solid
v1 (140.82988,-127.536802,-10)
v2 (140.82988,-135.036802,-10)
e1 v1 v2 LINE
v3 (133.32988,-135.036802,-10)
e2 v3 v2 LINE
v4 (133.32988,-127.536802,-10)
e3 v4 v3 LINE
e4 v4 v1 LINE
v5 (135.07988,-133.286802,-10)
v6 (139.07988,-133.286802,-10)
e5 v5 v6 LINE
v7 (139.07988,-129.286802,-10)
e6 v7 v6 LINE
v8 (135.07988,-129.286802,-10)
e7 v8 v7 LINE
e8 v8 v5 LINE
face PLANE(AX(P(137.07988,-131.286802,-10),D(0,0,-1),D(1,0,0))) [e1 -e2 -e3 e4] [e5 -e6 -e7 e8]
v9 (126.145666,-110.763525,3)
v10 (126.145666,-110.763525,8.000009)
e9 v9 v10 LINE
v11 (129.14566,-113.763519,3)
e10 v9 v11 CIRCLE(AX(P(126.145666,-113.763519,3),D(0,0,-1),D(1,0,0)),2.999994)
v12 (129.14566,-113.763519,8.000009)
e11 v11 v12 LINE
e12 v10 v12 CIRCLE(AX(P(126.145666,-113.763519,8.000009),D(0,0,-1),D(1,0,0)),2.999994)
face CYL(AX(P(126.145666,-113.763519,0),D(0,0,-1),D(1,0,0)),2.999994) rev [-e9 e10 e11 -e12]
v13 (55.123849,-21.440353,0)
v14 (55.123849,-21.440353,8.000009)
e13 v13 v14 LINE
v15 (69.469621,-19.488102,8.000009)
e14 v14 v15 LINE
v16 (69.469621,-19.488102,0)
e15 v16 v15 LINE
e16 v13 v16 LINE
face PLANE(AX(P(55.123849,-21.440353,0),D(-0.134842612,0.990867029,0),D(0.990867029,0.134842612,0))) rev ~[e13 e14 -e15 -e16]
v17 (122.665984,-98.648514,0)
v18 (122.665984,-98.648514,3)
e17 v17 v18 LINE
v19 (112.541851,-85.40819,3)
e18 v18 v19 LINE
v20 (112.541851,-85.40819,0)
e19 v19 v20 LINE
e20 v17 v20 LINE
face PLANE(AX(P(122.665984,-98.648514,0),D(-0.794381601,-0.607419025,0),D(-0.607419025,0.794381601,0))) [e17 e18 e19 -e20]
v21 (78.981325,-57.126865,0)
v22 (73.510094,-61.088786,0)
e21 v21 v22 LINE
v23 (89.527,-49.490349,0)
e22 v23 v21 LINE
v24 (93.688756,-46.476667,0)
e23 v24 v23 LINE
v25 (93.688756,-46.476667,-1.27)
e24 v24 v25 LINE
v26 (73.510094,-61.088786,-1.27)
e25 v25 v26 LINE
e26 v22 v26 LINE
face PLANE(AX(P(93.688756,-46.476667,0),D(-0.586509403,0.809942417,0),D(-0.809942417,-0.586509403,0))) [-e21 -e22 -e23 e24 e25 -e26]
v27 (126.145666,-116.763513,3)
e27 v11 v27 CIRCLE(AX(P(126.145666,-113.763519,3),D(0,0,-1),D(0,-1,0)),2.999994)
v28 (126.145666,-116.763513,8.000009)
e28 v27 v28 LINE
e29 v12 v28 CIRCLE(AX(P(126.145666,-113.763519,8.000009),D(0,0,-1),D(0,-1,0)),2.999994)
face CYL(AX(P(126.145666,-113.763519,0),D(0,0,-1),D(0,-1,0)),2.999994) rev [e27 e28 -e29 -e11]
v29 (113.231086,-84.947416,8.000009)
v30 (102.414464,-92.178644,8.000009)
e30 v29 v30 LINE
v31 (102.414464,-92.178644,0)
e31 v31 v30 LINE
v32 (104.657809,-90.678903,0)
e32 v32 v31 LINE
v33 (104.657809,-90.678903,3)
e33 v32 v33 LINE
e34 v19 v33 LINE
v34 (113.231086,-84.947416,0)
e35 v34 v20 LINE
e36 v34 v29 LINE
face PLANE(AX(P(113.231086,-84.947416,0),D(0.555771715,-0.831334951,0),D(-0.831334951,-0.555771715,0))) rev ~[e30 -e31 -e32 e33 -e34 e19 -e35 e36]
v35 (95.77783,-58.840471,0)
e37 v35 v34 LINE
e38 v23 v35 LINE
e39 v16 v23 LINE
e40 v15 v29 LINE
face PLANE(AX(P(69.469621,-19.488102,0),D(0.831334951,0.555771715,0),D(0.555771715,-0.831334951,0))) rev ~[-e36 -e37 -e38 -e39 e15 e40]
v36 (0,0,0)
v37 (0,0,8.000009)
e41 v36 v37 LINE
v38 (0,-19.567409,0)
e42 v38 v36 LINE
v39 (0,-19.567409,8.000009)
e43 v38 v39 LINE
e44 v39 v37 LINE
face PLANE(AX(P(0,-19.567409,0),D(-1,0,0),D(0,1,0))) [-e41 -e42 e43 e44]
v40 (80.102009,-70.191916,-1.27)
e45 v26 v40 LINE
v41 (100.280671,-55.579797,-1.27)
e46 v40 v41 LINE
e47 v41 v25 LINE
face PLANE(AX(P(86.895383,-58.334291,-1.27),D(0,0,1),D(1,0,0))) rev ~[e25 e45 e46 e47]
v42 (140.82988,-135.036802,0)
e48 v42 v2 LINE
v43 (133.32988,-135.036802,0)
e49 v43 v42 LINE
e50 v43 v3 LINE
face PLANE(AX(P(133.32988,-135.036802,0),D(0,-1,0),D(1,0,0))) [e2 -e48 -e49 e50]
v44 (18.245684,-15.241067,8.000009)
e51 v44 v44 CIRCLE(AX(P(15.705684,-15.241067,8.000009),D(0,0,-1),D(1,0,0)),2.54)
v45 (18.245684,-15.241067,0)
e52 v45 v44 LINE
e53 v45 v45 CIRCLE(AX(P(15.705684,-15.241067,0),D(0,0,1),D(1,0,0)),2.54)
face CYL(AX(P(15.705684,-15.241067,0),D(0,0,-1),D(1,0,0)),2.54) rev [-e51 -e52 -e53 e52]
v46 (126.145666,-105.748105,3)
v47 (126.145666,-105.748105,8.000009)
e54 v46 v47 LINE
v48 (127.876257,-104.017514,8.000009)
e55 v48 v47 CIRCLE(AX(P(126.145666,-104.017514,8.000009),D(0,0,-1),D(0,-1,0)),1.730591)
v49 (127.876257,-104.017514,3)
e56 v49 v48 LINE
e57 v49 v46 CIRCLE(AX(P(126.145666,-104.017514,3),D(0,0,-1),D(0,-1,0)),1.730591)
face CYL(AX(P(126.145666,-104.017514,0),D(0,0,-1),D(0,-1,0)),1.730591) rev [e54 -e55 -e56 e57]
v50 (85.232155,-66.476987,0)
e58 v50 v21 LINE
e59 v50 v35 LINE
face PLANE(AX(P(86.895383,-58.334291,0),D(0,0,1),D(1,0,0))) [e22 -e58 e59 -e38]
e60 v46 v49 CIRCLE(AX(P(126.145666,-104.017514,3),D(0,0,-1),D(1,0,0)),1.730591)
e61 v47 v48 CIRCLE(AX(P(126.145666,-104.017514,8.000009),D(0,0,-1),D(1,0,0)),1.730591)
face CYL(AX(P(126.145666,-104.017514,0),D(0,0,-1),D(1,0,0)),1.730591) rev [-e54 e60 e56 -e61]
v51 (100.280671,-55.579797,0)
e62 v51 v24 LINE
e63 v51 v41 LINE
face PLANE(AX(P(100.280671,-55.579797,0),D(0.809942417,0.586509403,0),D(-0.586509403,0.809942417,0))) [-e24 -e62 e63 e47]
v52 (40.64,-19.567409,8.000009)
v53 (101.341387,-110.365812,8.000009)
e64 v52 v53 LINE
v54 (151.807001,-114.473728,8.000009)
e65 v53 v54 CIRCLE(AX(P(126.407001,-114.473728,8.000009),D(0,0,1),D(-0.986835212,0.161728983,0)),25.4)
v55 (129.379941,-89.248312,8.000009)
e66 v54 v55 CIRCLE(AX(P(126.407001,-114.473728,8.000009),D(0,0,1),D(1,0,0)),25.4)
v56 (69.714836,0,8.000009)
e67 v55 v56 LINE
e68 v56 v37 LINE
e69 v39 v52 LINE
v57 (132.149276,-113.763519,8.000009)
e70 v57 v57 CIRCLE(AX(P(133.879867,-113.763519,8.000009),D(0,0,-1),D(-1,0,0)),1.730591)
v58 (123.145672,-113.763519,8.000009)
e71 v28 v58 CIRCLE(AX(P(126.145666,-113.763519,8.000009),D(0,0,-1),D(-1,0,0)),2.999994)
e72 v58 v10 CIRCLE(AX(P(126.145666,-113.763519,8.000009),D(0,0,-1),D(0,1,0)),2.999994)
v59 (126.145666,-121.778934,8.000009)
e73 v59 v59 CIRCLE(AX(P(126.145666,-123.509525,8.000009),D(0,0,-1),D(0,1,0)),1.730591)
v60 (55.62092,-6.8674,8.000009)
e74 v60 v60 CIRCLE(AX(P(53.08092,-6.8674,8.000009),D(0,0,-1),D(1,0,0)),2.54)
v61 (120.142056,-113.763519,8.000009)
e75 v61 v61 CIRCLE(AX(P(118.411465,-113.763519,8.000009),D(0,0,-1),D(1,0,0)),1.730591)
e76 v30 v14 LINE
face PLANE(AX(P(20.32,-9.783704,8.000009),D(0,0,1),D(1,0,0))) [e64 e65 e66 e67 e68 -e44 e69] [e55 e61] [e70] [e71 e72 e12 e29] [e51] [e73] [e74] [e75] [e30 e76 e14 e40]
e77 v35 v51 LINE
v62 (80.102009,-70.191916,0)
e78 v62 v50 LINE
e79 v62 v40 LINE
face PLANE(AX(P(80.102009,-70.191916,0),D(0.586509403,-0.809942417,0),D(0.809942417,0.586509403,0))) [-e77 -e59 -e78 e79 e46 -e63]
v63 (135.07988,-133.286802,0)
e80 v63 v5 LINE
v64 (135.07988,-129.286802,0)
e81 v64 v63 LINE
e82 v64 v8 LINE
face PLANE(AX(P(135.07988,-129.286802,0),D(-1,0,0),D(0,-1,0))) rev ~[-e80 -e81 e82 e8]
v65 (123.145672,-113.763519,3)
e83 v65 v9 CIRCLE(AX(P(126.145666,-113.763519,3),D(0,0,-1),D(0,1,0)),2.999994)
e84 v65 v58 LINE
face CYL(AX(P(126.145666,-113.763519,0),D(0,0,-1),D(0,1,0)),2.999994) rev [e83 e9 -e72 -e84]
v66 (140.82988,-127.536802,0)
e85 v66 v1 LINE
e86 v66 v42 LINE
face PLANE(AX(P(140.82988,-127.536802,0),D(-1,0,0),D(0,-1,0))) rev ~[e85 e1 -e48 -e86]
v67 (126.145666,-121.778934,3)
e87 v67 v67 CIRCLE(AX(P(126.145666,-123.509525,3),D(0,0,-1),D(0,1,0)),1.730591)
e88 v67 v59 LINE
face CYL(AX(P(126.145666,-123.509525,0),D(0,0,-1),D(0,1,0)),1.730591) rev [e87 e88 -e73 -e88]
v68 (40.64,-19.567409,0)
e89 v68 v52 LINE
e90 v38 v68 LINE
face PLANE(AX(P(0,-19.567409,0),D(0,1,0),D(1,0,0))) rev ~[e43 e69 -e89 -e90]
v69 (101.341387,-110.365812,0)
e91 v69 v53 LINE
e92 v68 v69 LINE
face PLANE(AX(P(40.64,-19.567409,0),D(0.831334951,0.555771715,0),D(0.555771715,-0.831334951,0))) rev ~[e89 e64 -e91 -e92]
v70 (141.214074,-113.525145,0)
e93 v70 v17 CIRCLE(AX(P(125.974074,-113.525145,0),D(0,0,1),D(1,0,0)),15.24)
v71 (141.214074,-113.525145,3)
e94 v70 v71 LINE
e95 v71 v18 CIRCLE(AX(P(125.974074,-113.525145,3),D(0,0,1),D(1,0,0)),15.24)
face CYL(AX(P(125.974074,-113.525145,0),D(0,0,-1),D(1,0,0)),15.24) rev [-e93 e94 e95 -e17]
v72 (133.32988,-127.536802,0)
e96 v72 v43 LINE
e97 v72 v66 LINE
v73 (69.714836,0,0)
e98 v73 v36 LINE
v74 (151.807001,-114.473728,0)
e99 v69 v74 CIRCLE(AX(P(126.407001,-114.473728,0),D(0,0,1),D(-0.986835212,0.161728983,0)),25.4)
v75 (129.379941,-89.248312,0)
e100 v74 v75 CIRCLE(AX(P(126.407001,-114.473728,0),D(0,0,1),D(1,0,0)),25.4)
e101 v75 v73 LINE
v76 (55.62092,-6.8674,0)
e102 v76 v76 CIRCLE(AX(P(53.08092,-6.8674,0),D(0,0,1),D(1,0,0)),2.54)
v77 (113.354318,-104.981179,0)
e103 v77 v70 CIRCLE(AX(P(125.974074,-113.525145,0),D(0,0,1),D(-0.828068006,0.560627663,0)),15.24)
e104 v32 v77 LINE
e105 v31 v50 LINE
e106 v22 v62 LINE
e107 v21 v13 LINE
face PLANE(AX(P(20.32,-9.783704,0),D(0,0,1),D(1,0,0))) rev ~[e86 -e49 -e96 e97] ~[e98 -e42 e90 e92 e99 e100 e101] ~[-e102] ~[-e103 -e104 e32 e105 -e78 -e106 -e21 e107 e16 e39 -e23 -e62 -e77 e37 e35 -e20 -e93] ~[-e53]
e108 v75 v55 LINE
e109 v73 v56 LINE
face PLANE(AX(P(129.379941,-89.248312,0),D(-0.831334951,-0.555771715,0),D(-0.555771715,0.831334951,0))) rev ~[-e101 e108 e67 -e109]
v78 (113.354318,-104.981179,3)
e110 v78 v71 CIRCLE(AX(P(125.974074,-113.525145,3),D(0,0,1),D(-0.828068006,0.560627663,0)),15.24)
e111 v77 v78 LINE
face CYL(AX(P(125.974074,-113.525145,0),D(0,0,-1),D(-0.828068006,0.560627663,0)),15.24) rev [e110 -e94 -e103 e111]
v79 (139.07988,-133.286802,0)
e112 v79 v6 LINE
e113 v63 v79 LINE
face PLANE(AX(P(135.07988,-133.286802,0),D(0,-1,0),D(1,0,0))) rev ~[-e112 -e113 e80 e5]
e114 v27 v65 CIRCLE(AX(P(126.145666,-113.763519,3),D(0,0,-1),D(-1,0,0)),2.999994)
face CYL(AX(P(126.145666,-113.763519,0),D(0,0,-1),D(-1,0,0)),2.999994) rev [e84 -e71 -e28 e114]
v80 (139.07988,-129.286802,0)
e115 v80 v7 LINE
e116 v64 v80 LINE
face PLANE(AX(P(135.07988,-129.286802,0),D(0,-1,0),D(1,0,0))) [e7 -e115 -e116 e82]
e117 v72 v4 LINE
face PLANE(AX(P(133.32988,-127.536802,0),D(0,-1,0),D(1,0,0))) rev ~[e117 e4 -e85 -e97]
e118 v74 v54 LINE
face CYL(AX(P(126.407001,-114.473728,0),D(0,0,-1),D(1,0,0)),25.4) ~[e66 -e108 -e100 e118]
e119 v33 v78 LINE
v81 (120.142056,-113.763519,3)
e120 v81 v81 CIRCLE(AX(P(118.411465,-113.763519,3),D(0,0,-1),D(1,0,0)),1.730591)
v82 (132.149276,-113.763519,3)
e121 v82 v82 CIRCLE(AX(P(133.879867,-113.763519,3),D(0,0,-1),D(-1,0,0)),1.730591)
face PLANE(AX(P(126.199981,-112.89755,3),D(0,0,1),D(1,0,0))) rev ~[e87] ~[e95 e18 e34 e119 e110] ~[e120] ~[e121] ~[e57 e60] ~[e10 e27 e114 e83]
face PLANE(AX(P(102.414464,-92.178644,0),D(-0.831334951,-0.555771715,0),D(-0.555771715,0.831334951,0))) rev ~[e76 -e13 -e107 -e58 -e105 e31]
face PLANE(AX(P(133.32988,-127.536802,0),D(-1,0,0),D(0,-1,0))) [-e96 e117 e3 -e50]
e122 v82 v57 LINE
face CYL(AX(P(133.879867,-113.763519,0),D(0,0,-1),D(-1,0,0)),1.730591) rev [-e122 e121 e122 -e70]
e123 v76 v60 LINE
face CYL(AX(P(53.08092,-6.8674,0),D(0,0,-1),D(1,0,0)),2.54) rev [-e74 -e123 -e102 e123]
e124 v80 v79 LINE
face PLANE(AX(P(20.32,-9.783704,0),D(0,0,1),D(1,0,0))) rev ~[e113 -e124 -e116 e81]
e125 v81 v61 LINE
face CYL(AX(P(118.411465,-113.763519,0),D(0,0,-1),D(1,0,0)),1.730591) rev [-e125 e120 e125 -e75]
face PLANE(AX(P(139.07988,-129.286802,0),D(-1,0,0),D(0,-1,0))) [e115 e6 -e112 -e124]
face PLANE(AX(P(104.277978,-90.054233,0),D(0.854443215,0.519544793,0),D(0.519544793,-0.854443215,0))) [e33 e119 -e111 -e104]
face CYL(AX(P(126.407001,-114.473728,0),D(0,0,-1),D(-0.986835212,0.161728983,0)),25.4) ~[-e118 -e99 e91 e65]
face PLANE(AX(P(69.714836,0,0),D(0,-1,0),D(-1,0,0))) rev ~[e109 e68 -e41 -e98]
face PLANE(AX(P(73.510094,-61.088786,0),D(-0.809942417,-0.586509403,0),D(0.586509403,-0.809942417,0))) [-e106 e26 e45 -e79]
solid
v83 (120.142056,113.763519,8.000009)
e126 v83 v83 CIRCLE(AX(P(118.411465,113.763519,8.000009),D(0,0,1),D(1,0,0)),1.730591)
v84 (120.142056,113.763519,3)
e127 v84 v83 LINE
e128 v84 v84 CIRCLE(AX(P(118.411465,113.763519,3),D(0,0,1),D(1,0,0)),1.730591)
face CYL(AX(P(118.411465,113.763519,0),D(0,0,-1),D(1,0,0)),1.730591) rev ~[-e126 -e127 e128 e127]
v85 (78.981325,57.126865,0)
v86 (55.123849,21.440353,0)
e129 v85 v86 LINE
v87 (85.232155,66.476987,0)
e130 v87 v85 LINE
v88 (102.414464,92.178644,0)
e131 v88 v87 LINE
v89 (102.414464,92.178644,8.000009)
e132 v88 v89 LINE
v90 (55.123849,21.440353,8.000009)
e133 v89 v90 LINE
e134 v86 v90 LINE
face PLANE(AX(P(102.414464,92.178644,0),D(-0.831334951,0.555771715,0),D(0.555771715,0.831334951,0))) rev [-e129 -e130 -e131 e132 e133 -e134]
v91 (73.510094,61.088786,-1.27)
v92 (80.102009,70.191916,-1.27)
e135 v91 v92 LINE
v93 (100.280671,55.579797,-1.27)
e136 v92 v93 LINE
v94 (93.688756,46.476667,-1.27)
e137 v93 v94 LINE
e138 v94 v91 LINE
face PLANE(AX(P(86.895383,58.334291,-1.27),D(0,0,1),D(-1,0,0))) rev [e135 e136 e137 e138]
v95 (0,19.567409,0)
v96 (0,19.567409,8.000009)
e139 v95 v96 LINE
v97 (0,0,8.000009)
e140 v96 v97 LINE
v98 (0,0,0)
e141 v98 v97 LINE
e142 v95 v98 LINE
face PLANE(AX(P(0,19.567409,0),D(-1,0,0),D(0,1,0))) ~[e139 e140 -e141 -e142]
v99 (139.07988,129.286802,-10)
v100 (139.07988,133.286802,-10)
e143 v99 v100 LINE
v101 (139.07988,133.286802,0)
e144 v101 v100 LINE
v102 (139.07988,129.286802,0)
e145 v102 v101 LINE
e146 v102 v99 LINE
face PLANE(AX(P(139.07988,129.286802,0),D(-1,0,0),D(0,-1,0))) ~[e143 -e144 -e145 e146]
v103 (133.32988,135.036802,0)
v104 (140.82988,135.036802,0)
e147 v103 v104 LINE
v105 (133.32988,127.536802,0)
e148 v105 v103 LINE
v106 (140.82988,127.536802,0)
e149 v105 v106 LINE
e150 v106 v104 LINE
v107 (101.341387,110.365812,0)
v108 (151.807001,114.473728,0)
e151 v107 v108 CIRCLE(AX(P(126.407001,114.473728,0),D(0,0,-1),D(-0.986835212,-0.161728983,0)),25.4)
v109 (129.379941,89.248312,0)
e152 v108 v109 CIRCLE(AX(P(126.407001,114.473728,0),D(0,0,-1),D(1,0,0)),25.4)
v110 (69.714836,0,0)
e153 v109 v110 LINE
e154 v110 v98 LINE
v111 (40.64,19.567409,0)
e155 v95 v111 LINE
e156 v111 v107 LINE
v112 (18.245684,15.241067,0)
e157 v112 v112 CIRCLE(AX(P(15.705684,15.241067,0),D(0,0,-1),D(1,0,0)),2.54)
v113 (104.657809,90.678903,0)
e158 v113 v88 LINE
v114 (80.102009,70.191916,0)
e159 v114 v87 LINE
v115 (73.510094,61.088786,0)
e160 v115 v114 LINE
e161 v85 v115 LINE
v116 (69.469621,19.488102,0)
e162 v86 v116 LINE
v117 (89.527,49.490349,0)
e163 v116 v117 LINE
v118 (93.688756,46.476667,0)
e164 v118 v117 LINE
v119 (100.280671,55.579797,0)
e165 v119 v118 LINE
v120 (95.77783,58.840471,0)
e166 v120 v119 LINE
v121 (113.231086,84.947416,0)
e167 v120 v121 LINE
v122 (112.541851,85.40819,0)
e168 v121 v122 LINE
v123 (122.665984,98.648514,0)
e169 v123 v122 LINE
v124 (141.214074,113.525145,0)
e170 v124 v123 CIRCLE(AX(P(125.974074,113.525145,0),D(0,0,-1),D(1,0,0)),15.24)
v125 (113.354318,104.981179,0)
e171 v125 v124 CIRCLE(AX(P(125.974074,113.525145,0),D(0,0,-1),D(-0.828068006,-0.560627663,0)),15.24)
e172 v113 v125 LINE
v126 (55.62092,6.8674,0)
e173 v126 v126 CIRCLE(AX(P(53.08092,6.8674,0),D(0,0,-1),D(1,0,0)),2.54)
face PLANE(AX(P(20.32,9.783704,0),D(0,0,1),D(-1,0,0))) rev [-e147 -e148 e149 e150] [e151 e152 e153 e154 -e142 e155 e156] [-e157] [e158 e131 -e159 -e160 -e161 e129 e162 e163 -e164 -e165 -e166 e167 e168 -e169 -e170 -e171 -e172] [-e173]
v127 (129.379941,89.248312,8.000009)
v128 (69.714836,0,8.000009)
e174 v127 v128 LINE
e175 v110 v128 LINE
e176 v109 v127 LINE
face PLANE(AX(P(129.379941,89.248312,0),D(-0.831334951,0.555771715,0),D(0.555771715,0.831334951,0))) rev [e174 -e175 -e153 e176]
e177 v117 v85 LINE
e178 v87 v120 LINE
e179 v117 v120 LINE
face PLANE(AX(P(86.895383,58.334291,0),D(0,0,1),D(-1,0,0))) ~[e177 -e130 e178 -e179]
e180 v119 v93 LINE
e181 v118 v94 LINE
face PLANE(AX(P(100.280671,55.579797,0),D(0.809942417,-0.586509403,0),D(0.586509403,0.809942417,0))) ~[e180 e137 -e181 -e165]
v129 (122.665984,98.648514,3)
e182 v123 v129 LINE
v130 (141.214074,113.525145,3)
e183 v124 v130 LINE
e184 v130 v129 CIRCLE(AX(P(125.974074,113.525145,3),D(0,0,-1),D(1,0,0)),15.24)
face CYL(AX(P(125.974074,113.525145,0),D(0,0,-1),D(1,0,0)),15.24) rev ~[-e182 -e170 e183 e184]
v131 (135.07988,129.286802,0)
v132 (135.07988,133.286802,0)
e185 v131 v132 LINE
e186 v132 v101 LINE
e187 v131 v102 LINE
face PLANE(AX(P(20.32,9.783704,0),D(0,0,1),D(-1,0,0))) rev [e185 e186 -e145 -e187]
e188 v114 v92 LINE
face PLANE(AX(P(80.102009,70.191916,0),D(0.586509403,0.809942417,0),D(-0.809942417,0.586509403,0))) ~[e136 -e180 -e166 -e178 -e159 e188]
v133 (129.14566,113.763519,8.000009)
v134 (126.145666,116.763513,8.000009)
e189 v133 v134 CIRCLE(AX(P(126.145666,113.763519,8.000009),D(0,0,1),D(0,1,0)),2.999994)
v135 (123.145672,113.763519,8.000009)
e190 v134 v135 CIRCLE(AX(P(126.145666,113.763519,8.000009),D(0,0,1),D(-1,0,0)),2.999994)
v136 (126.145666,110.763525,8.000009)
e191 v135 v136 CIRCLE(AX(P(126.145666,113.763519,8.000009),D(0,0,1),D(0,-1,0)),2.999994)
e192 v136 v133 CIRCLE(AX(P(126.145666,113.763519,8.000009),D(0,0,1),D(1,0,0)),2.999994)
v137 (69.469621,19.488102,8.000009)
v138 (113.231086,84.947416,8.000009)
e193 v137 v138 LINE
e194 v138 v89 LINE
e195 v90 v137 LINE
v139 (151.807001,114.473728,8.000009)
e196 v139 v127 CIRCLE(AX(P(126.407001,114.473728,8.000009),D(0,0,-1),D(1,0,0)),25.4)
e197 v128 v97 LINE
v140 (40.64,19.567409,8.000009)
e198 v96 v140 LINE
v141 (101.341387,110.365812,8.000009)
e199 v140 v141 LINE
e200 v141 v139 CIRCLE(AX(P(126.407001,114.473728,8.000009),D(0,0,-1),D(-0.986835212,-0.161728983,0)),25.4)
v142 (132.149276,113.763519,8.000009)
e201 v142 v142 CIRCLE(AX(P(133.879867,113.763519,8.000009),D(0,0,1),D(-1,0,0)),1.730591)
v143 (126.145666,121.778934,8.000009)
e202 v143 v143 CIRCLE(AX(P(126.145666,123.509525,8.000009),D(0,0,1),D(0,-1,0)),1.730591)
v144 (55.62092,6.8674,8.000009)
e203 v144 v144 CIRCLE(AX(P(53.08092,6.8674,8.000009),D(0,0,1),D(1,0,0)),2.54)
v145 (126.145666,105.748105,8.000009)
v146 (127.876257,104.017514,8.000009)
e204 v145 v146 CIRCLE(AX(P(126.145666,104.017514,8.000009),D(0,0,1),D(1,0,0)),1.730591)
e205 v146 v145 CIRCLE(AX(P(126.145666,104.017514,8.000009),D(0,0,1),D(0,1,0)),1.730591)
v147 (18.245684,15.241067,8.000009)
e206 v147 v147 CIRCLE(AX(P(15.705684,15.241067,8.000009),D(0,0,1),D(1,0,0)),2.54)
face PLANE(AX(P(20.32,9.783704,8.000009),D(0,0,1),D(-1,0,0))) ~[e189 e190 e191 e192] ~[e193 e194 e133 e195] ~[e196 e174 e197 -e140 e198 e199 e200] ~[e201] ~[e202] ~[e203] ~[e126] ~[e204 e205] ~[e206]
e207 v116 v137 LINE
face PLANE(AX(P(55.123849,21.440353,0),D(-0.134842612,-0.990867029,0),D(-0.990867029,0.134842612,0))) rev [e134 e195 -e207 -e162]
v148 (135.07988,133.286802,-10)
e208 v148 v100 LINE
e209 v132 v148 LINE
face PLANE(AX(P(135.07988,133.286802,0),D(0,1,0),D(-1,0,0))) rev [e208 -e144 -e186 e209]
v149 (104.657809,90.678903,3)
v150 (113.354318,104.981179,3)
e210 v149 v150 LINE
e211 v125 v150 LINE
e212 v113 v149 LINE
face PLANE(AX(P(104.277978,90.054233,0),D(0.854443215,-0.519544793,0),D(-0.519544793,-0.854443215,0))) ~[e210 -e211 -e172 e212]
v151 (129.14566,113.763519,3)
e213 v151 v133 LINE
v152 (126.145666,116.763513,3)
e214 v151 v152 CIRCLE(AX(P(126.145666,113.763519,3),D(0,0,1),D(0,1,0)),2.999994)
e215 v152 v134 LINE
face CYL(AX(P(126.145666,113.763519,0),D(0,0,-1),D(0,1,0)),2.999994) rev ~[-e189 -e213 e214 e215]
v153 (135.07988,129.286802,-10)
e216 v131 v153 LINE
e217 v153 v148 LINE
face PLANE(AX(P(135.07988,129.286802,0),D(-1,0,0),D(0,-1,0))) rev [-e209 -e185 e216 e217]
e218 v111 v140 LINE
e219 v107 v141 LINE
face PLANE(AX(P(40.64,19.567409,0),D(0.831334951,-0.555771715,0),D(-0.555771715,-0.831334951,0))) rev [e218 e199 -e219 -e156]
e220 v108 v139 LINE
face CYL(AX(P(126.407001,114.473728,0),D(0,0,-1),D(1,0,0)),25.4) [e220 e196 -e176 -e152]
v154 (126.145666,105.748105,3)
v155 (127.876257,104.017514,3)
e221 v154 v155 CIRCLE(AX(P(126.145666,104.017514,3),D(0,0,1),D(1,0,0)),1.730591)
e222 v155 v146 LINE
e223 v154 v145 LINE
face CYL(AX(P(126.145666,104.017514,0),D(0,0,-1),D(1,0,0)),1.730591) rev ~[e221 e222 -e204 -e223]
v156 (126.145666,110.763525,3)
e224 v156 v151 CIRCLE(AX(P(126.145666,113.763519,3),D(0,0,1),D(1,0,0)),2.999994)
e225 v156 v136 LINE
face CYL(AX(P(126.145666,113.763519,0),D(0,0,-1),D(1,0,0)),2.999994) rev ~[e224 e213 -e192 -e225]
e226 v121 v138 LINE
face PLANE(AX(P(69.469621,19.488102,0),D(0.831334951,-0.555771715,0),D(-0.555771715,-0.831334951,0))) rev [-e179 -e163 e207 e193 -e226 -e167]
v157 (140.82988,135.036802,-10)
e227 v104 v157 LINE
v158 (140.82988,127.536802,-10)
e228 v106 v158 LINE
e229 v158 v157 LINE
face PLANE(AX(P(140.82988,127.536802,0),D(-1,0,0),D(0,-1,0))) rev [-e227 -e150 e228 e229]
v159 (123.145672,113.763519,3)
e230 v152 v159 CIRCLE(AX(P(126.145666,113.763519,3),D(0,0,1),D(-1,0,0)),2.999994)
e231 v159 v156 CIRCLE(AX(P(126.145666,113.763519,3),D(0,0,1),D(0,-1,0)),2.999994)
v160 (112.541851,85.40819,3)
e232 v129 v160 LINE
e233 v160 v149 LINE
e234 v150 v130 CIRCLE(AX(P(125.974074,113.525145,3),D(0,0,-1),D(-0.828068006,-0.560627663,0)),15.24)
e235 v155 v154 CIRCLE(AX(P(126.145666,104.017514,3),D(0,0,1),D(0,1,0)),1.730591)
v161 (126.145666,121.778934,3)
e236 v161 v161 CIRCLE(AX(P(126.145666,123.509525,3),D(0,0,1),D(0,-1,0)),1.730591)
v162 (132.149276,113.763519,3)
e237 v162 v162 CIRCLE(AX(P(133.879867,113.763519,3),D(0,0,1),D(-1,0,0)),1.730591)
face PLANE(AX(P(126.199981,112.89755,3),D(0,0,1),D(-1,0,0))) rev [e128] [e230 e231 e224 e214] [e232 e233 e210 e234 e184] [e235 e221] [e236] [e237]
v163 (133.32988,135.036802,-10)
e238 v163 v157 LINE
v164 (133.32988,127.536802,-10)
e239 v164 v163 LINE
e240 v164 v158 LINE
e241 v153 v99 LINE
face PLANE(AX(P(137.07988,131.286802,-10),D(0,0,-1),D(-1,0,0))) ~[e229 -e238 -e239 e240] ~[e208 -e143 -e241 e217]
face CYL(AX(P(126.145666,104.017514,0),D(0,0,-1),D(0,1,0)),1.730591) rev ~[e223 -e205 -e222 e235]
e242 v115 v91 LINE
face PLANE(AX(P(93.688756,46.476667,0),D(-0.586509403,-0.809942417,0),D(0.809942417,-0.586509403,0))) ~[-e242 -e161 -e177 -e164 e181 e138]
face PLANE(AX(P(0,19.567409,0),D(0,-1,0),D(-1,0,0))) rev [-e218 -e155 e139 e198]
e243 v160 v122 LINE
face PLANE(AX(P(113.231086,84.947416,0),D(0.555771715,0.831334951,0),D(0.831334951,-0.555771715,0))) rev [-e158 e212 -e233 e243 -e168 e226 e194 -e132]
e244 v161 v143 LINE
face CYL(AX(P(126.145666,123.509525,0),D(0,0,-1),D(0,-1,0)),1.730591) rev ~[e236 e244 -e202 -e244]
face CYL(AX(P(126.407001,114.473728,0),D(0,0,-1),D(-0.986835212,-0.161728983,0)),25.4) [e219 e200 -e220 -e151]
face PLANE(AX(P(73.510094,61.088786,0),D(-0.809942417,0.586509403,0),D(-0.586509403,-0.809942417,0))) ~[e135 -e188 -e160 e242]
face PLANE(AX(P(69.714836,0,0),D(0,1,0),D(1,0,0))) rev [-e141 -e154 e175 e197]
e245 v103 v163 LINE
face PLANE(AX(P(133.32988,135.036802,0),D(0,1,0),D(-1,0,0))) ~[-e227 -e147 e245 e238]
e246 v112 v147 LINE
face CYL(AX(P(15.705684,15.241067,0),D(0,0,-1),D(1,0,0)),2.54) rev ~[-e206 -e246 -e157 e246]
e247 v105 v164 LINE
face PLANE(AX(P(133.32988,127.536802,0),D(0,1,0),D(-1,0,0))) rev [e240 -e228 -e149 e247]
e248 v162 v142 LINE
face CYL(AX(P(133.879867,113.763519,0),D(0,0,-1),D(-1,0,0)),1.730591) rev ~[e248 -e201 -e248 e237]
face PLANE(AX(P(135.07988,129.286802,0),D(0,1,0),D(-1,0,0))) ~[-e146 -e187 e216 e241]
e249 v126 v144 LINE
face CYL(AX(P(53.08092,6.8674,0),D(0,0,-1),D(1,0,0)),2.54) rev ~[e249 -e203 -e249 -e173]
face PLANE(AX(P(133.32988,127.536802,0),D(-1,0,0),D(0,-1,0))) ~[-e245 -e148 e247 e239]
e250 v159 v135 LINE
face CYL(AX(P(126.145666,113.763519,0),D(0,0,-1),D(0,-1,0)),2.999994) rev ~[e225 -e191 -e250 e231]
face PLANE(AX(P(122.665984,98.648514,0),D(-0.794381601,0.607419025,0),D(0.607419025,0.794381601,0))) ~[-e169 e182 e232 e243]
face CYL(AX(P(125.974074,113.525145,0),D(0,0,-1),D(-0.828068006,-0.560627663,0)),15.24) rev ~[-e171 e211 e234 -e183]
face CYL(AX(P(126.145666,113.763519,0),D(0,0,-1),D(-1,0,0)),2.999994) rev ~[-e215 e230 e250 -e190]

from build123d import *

# Parameters (mm, degrees)
F0_W     = 40.64
F0_H     = 19.5674088302
F1_DEPTH = 8.0000094
F2_R     = 2.54
F2_R_2   = 1.7305909
F3_DEPTH = 101.854
F5_DEPTH = 3
F7_DEPTH = 1.27
F8_W     = 7.5
F8_H     = 7.5
F8_W_2   = 4
F8_H_2   = 4
F9_DEPTH = 10


with BuildPart() as f1:
    # F0 (on Top) → F1 (new body)
    with BuildSketch(Plane.XY):
        with Locations((20.32, -9.7837044151)):
            Rectangle(F0_W, F0_H)
        with BuildLine():
            Line((69.7148357365, 0), (40.64, 0))
            Line((40.64, 0), (40.64, -19.5674088302))
            Line((40.64, -19.5674088302), (101.3413866648, -110.3658122135))
            ThreePointArc((101.3413866648, -110.3658122135), (111.1260073492, -94.18453836), (129.3799410465, -89.2483120652))
            Line((129.3799410465, -89.2483120652), (69.7148357365, 0))
        make_face()
        Polygon((69.4696214672, -19.4881020028), (113.231086272, -84.9474160699), (102.4144638083, -92.1786443526), (55.123848616, -21.4403533447), align=None, mode=Mode.SUBTRACT)
        with BuildLine():
            ThreePointArc((129.3799410465, -89.2483120652), (111.1260073492, -94.18453836), (101.3413866648, -110.3658122135))
            ThreePointArc((101.3413866648, -110.3658122135), (124.3462494405, -139.7899939485), (151.8070010567, -114.4737283713))
            ThreePointArc((151.8070010567, -114.4737283713), (145.3895282296, -97.5970088402), (129.3799410465, -89.2483120652))
        make_face()
    extrude(amount=F1_DEPTH)

    # F2 (on Top) → F3 (cut)
    with BuildSketch(Plane.XY):
        with Locations((15.7056836, -15.2410668)):
            Circle(F2_R)
        with BuildLine():
            Line((126.1456662068, -113.7635194558), (129.1456602068, -113.7635194558))
            ThreePointArc((129.1456602068, -113.7635194558), (128.2669823077, -111.6422033549), (126.1456662068, -110.7635254558))
            Line((126.1456662068, -110.7635254558), (126.1456662068, -113.7635194558))
        make_face()
        with BuildLine():
            ThreePointArc((127.8762571068, -123.5095248558), (127.3693787677, -122.285812295), (126.1456662068, -121.7789339558))
            ThreePointArc((126.1456662068, -121.7789339558), (124.921953646, -124.7332374167), (127.8762571068, -123.5095248558))
        make_face()
        with Locations((118.4114652668, -113.7635194558)):
            Circle(F2_R_2)
        with BuildLine():
            ThreePointArc((127.8762571068, -104.0175140558), (124.921953646, -102.793801495), (126.1456662068, -105.7481049558))
            ThreePointArc((126.1456662068, -105.7481049558), (127.3693787677, -105.2412266167), (127.8762571068, -104.0175140558))
        make_face()
        with BuildLine():
            ThreePointArc((126.1456662068, -116.7635134558), (128.2669823077, -115.8848355568), (129.1456602068, -113.7635194558))
            Line((129.1456602068, -113.7635194558), (126.1456662068, -113.7635194558))
            Line((126.1456662068, -113.7635194558), (126.1456662068, -116.7635134558))
        make_face()
        with BuildLine():
            ThreePointArc((135.6104580468, -113.7635194558), (133.8798671468, -112.0329285558), (132.1492762468, -113.7635194558))
            ThreePointArc((132.1492762468, -113.7635194558), (133.8798671468, -115.4941103558), (135.6104580468, -113.7635194558))
        make_face()
        with BuildLine():
            Line((126.1456662068, -113.7635194558), (126.1456662068, -110.7635254558))
            ThreePointArc((126.1456662068, -110.7635254558), (124.0243501059, -111.6422033549), (123.1456722068, -113.7635194558))
            Line((123.1456722068, -113.7635194558), (126.1456662068, -113.7635194558))
        make_face()
        with BuildLine():
            ThreePointArc((123.1456722068, -113.7635194558), (124.0243501059, -115.8848355568), (126.1456662068, -116.7635134558))
            Line((126.1456662068, -116.7635134558), (126.1456662068, -113.7635194558))
            Line((126.1456662068, -113.7635194558), (123.1456722068, -113.7635194558))
        make_face()
        with Locations((53.08092, -6.8674)):
            Circle(F2_R)
    extrude(amount=F3_DEPTH, mode=Mode.SUBTRACT)

    # F4 (on Top) → F5 (cut)
    with BuildSketch(Plane.XY):
        with BuildLine():
            ThreePointArc((113.3543175896, -104.9811791667), (121.5057123257, -128.0953658898), (141.2140740061, -113.5251447558))
            ThreePointArc((141.2140740061, -113.5251447558), (135.5093324535, -101.6366441633), (122.6659839352, -98.6485140861))
            Line((122.6659839352, -98.6485140861), (113.3844923675, -105.0308045977))
            Line((113.3844923675, -105.0308045977), (113.3543175896, -104.9811791667))
        make_face()
        with BuildLine():
            Line((113.3844923675, -105.0308045977), (122.6659839352, -98.6485140861))
            ThreePointArc((122.6659839352, -98.6485140861), (117.4037919112, -100.9232455016), (113.3543175896, -104.9811791667))
            Line((113.3543175896, -104.9811791667), (113.3844923675, -105.0308045977))
        make_face()
        with BuildLine():
            ThreePointArc((113.3543175896, -104.9811791667), (117.4037919112, -100.9232455016), (122.6659839352, -98.6485140861))
            Line((122.6659839352, -98.6485140861), (112.1151074767, -84.8500952125))
            Line((112.1151074767, -84.8500952125), (104.2779775574, -90.0542329821))
            Line((104.2779775574, -90.0542329821), (113.3543175896, -104.9811791667))
        make_face()
    extrude(amount=F5_DEPTH, mode=Mode.SUBTRACT)

    # F6 (on Top) → F7 (join)
    with BuildSketch(Plane.XY):
        Polygon((73.5100944723, -61.0887857915), (80.1020091825, -70.1919157745), (100.2806708766, -55.5797969646), (93.6887561665, -46.4766669816), align=None)
    extrude(amount=-F7_DEPTH)

    # F8 (on face) → F9 (join)
    with BuildSketch(Plane(origin=(0, 0, 0), x_dir=(1, 0, 0), z_dir=(0, 0, -1))):
        with Locations((137.0798796415, 131.2868020968)):
            Rectangle(F8_W, F8_H)
        with Locations((137.0798796415, 131.2868020968)):
            Rectangle(F8_W_2, F8_H_2, mode=Mode.SUBTRACT)
    extrude(amount=F9_DEPTH)


with BuildPart() as f10_1:
    # F10: instance of F1
    add(f1.part.mirror(Plane(origin=(34.8574178682, 0, 4.0000047), x_dir=(-1, 0, 0), z_dir=(0, 1, 0))))


solid = Compound([f1.part, f10_1.part])
